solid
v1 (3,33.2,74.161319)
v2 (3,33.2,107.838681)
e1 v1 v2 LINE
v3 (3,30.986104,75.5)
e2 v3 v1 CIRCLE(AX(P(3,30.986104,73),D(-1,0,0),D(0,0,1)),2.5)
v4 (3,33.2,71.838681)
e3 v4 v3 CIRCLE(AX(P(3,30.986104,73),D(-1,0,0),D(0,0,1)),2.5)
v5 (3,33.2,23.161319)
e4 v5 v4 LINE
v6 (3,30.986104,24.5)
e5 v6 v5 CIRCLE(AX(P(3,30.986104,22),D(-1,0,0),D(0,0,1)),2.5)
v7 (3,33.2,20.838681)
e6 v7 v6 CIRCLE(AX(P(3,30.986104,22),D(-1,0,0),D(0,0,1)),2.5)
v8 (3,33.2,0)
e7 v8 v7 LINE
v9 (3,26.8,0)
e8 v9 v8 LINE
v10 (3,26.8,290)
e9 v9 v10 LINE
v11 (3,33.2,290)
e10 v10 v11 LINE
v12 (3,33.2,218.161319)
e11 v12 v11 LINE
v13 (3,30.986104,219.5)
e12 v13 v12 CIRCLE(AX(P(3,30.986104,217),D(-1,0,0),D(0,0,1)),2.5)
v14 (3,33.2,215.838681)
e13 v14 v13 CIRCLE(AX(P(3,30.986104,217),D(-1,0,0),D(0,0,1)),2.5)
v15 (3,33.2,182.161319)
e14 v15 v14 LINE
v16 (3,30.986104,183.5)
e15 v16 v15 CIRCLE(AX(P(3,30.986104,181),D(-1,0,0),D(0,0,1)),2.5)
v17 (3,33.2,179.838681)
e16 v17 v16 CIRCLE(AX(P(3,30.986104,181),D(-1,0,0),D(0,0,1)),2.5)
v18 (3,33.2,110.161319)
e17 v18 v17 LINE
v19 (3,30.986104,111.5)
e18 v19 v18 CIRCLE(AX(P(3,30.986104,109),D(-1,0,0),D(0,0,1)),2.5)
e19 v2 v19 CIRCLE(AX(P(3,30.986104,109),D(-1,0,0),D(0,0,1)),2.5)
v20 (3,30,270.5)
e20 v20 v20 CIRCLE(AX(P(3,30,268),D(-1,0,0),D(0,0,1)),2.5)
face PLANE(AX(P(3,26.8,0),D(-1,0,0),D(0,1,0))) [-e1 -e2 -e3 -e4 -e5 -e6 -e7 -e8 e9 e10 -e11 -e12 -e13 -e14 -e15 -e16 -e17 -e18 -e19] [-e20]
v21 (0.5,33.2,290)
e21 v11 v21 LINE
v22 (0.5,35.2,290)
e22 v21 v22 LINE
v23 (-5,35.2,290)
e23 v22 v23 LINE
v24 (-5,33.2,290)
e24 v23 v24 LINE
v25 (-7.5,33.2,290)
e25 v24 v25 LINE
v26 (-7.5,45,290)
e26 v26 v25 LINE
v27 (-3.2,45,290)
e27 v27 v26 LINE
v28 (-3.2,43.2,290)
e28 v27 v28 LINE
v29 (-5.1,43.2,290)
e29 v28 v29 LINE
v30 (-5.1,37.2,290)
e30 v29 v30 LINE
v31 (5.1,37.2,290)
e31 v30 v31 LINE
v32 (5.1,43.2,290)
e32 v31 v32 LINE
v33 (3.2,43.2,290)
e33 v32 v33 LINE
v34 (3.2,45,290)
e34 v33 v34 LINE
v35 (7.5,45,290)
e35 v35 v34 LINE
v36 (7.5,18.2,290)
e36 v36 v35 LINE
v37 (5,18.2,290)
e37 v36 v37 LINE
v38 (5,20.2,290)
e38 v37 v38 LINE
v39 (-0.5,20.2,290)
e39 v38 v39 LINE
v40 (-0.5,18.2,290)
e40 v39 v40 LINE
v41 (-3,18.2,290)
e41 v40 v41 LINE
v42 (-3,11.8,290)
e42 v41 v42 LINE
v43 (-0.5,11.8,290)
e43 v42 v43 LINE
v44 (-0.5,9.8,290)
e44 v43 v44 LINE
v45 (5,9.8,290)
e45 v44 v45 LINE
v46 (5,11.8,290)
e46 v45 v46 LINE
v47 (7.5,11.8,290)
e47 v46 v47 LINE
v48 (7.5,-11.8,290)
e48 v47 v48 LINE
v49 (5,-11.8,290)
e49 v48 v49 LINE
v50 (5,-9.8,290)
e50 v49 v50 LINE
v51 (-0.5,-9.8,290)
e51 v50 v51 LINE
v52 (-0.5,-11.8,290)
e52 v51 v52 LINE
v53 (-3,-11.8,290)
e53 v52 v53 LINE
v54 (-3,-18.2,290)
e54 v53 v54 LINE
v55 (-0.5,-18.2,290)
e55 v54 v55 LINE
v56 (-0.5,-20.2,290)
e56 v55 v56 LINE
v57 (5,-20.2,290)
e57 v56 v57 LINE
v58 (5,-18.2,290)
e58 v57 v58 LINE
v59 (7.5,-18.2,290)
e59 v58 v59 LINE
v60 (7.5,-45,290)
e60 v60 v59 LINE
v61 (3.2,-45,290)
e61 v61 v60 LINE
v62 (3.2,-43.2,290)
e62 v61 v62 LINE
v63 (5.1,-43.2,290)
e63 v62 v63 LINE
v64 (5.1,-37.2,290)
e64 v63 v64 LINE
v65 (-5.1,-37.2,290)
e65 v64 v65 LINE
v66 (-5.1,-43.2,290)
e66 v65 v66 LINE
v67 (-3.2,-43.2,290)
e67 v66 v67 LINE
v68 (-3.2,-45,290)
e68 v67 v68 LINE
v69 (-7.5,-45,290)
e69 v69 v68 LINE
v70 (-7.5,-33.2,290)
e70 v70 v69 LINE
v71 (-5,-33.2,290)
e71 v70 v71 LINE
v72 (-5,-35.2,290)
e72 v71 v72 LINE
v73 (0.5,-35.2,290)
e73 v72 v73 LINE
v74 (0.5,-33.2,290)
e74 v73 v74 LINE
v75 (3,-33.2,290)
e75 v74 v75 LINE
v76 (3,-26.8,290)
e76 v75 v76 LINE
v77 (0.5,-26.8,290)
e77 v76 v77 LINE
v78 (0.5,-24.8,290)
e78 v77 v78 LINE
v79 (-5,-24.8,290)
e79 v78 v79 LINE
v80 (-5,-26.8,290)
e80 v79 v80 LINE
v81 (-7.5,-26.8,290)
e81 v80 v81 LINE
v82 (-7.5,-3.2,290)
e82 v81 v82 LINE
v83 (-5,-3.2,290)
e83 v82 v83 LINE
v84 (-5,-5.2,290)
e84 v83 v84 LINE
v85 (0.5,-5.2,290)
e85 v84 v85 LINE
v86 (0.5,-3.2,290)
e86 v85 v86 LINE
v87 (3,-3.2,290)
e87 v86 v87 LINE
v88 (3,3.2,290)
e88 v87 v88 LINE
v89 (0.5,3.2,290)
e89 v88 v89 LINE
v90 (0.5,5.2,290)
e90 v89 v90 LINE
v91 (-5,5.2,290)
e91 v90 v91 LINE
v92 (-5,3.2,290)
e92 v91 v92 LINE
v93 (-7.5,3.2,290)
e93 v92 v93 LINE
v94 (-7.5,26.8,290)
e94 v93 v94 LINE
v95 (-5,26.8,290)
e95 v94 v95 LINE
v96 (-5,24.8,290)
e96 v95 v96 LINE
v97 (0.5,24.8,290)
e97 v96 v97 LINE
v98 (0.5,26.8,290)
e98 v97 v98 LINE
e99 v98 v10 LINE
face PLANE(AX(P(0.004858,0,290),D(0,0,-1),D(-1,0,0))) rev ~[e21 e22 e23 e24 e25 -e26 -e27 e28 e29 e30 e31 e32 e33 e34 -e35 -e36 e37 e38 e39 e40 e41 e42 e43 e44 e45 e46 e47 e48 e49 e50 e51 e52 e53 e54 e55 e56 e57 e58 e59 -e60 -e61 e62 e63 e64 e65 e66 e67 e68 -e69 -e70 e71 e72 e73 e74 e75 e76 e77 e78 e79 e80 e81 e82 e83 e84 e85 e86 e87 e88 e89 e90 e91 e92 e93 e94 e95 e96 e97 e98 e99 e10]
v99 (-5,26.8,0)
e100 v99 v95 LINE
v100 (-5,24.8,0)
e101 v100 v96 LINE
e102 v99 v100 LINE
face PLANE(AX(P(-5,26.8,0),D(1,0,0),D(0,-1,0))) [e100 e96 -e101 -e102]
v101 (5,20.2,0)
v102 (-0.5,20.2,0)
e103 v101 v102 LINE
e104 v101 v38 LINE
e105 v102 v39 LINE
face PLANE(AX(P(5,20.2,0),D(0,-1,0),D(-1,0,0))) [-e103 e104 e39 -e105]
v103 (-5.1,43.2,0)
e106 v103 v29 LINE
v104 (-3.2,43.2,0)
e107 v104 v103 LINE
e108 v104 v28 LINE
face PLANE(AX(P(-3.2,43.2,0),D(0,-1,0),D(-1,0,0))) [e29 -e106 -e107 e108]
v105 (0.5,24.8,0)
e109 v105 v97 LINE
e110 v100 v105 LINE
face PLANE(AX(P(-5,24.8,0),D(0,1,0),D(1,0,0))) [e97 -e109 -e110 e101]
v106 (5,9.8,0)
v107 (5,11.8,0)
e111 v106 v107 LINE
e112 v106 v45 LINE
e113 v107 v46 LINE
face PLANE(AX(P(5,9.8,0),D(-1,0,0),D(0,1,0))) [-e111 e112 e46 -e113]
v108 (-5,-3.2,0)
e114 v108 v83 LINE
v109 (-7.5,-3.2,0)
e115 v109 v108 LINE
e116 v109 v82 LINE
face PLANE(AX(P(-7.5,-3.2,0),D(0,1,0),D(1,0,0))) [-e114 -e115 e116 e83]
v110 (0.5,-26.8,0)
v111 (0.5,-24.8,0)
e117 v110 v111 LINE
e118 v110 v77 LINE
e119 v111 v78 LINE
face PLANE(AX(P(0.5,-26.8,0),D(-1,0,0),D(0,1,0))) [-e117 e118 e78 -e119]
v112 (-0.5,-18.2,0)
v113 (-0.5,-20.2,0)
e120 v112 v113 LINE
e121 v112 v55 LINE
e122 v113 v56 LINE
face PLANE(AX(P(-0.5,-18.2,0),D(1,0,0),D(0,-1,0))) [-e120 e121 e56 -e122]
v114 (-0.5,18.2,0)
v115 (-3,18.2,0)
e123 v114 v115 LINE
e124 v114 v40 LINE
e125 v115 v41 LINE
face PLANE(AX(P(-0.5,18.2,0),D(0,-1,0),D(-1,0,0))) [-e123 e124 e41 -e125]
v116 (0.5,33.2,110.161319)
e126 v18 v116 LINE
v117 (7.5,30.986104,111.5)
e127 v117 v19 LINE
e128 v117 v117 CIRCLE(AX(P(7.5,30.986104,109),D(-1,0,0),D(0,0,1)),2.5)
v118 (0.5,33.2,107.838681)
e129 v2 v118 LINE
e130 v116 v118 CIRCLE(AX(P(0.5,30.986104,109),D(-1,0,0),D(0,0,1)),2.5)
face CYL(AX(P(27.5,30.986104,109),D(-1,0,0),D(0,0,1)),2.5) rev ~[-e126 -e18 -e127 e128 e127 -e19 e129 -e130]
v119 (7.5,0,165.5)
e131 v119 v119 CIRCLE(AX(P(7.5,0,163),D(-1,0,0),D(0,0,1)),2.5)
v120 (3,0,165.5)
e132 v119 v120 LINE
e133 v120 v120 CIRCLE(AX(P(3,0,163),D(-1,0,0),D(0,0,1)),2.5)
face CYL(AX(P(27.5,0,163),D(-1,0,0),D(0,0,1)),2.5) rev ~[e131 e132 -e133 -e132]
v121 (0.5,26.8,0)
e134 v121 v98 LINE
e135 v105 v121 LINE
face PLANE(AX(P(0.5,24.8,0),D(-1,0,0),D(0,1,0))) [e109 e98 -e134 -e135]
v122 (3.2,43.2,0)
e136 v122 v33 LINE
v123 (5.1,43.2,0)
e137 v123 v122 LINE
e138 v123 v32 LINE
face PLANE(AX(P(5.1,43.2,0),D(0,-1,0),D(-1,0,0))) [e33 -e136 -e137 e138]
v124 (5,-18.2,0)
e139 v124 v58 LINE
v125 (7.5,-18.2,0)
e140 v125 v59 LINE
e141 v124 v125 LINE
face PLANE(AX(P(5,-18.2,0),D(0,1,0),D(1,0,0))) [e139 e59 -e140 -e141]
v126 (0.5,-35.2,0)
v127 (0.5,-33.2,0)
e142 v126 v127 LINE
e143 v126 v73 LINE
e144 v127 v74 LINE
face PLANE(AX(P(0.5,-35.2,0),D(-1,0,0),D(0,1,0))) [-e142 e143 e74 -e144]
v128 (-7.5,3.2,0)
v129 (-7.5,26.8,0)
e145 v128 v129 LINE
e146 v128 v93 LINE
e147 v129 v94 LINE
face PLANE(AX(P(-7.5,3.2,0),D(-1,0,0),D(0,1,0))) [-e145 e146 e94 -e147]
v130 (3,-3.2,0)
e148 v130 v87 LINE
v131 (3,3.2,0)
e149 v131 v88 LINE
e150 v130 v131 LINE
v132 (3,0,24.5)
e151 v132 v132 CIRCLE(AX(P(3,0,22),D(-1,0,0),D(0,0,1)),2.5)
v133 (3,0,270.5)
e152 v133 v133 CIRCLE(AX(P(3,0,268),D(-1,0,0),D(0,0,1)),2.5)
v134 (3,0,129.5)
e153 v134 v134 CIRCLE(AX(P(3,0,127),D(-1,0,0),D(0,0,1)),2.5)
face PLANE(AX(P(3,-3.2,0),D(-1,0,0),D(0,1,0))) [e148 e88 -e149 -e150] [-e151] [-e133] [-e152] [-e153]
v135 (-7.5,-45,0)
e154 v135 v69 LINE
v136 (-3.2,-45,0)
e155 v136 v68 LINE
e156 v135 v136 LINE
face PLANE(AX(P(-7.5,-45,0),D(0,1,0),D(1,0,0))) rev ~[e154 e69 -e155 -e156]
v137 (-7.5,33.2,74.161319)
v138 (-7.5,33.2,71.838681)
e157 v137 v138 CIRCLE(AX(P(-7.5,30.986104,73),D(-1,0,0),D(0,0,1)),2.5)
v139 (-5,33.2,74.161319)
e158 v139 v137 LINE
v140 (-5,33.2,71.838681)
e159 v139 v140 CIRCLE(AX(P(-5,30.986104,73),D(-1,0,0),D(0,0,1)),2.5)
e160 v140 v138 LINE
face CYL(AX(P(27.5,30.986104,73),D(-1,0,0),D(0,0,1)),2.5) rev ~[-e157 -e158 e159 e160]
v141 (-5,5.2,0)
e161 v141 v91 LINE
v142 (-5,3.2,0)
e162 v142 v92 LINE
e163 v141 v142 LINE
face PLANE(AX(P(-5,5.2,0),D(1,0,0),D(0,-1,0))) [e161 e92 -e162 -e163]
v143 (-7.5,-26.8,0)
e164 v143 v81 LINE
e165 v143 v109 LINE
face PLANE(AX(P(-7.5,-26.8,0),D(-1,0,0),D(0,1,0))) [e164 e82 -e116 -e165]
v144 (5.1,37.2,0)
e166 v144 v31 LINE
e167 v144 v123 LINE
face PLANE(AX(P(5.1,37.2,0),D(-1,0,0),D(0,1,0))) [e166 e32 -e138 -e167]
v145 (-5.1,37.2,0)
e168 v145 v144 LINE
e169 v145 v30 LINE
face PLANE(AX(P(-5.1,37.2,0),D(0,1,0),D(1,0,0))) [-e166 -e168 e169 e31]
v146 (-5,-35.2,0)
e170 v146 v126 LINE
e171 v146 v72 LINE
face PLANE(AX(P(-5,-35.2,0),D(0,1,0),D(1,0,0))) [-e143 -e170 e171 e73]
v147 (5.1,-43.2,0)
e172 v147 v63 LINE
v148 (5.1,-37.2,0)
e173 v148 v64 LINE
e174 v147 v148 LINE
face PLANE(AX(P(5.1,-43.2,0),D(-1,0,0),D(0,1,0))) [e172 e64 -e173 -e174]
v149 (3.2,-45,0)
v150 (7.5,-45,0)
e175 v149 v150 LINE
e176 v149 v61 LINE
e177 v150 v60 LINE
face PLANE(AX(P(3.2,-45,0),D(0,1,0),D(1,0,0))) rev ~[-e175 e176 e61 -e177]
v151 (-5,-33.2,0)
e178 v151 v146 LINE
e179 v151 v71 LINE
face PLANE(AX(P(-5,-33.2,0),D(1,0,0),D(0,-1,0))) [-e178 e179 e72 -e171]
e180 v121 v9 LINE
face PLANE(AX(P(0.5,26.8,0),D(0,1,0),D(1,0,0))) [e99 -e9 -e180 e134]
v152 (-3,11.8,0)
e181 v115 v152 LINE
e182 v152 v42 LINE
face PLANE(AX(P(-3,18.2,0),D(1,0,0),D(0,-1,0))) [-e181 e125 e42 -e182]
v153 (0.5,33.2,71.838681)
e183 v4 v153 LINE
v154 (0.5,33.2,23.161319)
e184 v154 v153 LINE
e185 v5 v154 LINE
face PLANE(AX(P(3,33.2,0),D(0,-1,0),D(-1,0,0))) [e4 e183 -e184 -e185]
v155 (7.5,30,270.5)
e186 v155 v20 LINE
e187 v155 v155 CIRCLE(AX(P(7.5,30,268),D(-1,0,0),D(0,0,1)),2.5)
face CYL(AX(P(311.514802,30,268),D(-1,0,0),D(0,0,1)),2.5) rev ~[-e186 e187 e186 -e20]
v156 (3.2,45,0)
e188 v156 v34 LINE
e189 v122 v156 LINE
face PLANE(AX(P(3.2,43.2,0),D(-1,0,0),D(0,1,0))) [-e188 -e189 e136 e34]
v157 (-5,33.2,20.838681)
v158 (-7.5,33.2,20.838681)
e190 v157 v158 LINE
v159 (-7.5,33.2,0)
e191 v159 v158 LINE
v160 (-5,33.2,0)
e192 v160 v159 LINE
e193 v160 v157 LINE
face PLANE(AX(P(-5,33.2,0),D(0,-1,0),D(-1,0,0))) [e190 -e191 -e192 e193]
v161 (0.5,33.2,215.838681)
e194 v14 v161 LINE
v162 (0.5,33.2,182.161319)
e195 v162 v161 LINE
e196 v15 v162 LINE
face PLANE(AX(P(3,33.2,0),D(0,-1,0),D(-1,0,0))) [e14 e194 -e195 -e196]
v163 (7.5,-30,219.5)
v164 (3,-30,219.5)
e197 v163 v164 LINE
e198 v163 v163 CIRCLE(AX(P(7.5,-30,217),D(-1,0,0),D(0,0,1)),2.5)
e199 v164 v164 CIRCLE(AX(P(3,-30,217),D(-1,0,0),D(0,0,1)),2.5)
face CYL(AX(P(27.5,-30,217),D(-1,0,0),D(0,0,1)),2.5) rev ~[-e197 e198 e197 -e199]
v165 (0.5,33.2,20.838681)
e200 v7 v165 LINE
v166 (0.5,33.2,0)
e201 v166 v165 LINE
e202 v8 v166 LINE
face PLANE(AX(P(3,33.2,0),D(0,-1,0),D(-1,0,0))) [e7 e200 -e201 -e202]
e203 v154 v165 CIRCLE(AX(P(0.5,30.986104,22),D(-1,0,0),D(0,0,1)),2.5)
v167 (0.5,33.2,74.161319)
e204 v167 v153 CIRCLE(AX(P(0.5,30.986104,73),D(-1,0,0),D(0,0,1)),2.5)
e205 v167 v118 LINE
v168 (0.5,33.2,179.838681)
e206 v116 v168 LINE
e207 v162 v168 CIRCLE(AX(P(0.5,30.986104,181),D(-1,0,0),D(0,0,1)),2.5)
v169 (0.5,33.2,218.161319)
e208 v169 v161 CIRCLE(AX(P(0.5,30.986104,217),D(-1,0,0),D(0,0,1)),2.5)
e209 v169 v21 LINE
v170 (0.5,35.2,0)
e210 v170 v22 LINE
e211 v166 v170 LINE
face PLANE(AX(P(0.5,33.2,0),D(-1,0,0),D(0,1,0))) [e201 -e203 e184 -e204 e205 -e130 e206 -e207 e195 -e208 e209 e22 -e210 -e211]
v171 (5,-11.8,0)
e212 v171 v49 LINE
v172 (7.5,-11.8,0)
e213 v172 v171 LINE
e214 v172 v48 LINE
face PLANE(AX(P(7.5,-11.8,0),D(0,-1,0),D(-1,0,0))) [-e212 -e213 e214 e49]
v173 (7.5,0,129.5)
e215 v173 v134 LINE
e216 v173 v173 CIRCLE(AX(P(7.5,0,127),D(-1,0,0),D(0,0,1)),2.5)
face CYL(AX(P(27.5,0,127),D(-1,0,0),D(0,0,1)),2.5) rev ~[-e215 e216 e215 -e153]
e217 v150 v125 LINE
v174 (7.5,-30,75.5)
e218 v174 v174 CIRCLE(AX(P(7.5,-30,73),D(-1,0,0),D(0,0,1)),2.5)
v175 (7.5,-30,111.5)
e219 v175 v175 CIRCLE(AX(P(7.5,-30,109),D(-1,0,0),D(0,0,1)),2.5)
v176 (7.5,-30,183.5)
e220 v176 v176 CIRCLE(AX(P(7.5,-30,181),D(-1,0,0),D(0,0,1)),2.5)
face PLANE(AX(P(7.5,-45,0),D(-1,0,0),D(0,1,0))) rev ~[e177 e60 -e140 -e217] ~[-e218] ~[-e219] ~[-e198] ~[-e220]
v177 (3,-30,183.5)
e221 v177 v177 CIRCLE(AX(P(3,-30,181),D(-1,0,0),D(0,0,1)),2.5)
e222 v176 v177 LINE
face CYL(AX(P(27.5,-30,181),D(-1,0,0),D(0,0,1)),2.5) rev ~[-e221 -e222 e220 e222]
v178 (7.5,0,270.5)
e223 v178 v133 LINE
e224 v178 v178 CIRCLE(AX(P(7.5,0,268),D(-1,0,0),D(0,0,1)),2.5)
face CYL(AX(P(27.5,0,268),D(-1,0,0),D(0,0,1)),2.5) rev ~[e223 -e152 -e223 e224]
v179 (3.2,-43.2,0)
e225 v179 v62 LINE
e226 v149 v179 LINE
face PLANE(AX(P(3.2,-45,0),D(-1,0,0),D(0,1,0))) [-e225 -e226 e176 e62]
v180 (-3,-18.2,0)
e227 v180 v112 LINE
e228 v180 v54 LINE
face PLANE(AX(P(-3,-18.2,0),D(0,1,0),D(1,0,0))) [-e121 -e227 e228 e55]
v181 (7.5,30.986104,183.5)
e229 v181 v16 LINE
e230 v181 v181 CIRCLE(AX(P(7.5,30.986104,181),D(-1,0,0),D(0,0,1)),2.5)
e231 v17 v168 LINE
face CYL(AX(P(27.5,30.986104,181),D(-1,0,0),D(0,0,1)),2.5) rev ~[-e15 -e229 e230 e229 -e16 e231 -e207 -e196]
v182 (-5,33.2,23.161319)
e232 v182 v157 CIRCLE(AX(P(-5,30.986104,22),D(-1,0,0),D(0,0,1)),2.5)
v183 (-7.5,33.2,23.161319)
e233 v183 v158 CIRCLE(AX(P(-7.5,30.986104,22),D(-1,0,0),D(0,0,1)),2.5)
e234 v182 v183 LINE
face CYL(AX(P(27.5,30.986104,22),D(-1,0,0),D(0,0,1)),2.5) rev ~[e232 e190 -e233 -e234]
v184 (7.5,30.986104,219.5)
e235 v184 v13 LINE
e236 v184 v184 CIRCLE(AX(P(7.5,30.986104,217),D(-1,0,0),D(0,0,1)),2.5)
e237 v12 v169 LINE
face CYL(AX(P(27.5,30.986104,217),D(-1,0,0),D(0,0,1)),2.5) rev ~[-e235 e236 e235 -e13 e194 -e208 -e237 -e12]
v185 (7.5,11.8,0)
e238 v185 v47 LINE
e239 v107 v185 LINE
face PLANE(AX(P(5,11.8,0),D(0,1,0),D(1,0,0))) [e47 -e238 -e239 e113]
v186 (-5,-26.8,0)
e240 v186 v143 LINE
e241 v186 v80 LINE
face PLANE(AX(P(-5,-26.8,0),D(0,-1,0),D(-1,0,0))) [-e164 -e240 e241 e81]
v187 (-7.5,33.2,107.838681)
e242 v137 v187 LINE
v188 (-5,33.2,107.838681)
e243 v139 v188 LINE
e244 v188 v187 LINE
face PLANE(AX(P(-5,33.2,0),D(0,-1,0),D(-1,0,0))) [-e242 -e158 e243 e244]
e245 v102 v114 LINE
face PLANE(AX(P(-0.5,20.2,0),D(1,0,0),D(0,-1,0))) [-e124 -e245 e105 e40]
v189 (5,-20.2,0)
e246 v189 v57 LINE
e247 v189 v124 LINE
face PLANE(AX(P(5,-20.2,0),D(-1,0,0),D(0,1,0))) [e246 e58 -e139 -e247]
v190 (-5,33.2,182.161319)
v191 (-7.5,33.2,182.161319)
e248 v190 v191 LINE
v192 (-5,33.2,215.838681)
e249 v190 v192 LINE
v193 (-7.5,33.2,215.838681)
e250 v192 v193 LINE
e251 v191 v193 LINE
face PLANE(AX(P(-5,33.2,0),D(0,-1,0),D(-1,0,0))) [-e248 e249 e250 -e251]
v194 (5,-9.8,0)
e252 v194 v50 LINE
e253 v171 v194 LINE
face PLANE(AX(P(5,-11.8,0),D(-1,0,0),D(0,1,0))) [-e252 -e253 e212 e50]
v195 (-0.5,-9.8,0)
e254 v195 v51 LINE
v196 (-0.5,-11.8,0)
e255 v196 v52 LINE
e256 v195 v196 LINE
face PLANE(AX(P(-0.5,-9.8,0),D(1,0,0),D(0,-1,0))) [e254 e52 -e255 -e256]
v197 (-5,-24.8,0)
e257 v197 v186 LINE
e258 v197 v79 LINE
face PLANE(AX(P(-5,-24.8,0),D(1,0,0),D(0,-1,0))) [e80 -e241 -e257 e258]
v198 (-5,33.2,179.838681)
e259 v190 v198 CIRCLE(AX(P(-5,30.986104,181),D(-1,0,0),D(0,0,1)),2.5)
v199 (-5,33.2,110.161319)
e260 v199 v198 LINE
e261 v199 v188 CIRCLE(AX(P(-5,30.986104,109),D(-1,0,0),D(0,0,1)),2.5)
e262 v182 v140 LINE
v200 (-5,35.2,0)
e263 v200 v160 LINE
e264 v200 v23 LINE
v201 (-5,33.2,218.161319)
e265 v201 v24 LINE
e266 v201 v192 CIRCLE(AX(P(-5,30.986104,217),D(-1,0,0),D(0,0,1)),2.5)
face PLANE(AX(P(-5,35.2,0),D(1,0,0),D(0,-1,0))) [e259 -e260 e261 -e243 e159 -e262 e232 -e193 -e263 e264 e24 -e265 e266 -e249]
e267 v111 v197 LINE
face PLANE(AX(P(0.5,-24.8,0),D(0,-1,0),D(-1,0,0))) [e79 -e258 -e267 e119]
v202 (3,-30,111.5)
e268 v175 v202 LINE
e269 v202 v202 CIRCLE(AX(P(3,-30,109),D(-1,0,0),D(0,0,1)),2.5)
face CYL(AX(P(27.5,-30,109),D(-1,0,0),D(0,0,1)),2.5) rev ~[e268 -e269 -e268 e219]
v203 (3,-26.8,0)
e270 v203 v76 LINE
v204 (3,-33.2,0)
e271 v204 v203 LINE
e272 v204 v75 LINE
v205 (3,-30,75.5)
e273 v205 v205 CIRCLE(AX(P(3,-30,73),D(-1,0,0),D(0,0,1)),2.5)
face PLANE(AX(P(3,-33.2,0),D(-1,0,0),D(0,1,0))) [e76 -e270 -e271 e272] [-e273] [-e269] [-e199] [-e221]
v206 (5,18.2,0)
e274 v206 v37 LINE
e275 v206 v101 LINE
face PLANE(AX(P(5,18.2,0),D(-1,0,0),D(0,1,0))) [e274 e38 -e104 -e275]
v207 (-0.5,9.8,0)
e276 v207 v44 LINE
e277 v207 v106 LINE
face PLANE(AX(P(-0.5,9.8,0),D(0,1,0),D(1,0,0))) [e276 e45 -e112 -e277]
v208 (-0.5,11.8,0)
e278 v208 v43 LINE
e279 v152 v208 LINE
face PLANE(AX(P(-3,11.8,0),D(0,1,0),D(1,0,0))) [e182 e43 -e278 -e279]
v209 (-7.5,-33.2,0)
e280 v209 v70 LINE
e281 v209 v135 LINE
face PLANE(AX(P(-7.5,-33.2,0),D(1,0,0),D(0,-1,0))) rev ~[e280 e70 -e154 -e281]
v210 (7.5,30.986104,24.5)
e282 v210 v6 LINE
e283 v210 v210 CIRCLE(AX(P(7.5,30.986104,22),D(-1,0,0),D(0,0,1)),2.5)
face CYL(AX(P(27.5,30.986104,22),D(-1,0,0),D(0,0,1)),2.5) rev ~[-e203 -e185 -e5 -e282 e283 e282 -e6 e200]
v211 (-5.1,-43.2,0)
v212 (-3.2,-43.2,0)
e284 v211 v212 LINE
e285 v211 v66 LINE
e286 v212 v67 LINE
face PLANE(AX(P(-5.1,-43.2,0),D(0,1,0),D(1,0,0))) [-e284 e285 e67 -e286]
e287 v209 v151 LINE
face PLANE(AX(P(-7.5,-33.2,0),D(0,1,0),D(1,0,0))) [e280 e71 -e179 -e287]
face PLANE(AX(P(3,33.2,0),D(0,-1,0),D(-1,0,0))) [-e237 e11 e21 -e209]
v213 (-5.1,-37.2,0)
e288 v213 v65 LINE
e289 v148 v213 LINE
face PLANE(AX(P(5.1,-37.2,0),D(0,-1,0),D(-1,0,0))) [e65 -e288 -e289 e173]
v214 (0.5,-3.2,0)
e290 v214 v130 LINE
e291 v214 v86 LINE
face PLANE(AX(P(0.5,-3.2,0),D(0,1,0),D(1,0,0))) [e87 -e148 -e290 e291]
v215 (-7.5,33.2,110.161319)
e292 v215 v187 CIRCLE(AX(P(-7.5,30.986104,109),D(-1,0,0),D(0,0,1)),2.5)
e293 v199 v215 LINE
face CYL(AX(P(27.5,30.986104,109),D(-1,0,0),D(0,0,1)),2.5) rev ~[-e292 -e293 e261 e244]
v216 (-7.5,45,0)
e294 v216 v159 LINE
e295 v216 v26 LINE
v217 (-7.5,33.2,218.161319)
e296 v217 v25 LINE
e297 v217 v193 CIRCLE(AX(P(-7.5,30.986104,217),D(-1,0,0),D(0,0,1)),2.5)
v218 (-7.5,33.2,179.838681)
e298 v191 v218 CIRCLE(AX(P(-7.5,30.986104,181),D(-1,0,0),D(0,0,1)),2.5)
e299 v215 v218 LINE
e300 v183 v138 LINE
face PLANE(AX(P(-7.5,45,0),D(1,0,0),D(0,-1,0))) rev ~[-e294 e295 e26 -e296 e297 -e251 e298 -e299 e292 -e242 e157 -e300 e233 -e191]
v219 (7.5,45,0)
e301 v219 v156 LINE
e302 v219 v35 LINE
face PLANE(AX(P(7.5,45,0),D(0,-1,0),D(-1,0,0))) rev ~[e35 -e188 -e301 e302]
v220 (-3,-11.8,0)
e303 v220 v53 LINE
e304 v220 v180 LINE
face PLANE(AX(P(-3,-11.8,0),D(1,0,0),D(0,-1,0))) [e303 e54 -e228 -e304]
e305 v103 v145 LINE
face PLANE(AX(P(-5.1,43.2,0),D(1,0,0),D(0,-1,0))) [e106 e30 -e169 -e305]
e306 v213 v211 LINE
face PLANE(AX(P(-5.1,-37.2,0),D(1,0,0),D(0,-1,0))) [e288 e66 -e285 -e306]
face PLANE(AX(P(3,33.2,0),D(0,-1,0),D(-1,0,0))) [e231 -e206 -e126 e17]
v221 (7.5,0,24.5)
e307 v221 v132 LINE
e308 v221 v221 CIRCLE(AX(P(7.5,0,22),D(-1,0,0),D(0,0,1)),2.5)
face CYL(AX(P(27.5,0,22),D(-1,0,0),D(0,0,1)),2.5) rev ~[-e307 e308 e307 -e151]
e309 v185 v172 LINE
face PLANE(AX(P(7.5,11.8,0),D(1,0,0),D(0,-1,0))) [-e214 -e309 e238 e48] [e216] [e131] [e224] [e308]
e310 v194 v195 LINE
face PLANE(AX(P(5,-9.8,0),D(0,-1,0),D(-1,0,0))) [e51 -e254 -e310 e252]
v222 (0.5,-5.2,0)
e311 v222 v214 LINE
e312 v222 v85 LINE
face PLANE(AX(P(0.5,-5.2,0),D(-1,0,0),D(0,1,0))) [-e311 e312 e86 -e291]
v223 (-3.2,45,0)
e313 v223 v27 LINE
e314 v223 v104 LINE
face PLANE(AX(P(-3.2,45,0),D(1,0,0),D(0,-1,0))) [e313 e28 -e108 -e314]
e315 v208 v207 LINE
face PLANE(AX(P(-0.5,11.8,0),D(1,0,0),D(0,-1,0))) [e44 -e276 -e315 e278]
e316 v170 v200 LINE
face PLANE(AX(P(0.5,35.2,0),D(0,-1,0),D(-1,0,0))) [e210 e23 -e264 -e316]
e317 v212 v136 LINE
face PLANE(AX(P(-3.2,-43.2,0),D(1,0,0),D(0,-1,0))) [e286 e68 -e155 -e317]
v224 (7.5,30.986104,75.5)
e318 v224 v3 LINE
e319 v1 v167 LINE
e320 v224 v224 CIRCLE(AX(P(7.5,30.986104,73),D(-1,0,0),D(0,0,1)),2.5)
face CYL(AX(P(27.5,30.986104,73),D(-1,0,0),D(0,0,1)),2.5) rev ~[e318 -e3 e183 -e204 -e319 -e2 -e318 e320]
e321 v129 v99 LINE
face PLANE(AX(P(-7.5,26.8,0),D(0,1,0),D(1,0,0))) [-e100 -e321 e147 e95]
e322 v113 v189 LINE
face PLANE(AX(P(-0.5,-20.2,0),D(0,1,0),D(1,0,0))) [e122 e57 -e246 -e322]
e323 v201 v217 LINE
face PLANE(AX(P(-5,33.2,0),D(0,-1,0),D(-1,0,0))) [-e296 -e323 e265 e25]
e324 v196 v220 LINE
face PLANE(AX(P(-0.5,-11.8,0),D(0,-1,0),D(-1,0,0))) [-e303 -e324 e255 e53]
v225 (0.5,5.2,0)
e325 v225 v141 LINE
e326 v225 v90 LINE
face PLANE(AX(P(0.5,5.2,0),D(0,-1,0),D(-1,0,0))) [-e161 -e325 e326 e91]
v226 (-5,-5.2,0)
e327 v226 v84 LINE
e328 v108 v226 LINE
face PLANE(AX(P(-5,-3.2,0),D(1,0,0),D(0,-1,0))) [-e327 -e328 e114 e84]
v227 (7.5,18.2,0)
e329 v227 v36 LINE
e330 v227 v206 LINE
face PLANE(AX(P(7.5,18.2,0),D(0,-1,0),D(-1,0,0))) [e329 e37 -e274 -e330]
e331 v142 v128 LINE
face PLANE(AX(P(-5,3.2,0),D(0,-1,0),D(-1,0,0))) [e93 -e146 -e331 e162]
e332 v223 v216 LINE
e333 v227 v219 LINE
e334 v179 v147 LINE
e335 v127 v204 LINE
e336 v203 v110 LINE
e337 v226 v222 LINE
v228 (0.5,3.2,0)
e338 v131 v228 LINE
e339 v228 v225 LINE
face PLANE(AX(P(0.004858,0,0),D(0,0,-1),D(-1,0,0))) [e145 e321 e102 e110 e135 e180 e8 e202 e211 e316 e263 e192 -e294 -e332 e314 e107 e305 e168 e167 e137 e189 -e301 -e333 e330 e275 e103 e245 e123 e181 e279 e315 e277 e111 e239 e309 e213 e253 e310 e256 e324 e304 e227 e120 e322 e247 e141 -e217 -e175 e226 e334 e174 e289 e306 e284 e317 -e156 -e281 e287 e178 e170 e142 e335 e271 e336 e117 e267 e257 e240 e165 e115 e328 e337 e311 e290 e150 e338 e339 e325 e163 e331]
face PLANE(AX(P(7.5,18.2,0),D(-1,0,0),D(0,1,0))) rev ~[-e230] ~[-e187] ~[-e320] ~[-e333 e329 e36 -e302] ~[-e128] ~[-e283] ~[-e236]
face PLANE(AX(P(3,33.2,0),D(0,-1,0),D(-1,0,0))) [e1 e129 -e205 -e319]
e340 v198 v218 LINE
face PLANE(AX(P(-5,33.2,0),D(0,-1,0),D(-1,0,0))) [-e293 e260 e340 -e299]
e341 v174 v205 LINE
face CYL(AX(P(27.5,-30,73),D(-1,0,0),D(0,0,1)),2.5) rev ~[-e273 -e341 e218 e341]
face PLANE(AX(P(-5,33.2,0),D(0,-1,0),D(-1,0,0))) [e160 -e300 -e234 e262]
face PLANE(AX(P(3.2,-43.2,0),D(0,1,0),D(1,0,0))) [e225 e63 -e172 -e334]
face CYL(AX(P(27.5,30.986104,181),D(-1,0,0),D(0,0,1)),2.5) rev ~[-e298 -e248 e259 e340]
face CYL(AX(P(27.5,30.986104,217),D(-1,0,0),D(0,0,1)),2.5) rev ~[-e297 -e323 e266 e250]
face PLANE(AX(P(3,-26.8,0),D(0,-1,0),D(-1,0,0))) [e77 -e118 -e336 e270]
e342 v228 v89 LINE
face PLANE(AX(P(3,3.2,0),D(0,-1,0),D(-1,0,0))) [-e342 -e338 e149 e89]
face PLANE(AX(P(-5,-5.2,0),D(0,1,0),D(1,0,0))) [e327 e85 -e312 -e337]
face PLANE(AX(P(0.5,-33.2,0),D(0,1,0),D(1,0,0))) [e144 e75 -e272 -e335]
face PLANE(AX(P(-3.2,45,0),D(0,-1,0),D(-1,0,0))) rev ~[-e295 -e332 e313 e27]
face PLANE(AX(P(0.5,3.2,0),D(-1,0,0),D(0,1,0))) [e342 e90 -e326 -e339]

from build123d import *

# Parameters (mm, degrees)
EXTRUDE_1_DEPTH           = 290
HOLE_WIZARD_5_0_5_1_D     = 5
HOLE_WIZARD_5_0_5_2_D     = 5
HOLE_WIZARD_5_0_5_2_DEPTH = 20
HOLE_WIZARD_5_0_5_2_TIP   = 1.502151548


with BuildPart() as part:
    # Sketch1 → 凸台-拉伸1 (new body)
    with BuildSketch(Plane.XY):
        Polygon((-6.5, 45), (-3.2, 45), (-3.2, 43.2), (-5.1, 43.2), (-5.1, 37.2), (5.1, 37.2), (5.1, 43.2), (3.2, 43.2), (3.2, 45), (6.5, 45), (7.5, 45), (7.5, 44), (7.5, 18.2), (5, 18.2), (5, 20.2), (-0.5, 20.2), (-0.5, 18.2), (-3, 18.2), (-3, 11.8), (-0.5, 11.8), (-0.5, 9.8), (5, 9.8), (5, 11.8), (7.5, 11.8), (7.5, -11.8), (5, -11.8), (5, -9.8), (-0.5, -9.8), (-0.5, -11.8), (-3, -11.8), (-3, -18.2), (-0.5, -18.2), (-0.5, -20.2), (5, -20.2), (5, -18.2), (7.5, -18.2), (7.5, -44), (7.5, -45), (6.5, -45), (3.2, -45), (3.2, -43.2), (5.1, -43.2), (5.1, -37.2), (-5.1, -37.2), (-5.1, -43.2), (-3.2, -43.2), (-3.2, -45), (-6.496721962, -45), (-7.5, -45), (-7.5, -44), (-7.5, -33.2), (-5, -33.2), (-5, -35.2), (0.5, -35.2), (0.5, -33.2), (3, -33.2), (3, -26.8), (0.5, -26.8), (0.5, -24.8), (-5, -24.8), (-5, -26.8), (-7.5, -26.8), (-7.5, -3.2), (-5, -3.2), (-5, -5.2), (0.5, -5.2), (0.5, -3.2), (3, -3.2), (3, 3.2), (0.5, 3.2), (0.5, 5.2), (-5, 5.2), (-5, 3.2), (-7.5, 3.2), (-7.5, 26.8), (-5, 26.8), (-5, 24.8), (0.5, 24.8), (0.5, 26.8), (3, 26.8), (3, 33.2), (0.5, 33.2), (0.5, 35.2), (-5, 35.2), (-5, 33.2), (-7.5, 33.2), (-7.5, 44), (-7.5, 45), align=None)
    extrude(amount=EXTRUDE_1_DEPTH)

    # Ø5.0 (5) 直径孔1 (through all)
    with Locations(Plane(origin=(7.5, 0, 0), x_dir=(0, 0, -1), z_dir=(1, 0, 0))):
        with Locations((-268, 30)):
            Hole(HOLE_WIZARD_5_0_5_1_D / 2)

    # Ø5.0 (5) 直径孔2
    with Locations(Plane(origin=(7.5, 0, 0), x_dir=(0, 0, -1), z_dir=(1, 0, 0))):
        with Locations((-217, 30.986103622), (-181, 30.986103622), (-109, 30.986103622), (-73, 30.986103622), (-22, 30.986103622), (-268, 0), (-217, -30), (-181, -30), (-163, 0), (-127, 0), (-109, -30), (-73, -30), (-22, 0)):
            Hole(HOLE_WIZARD_5_0_5_2_D / 2, depth=HOLE_WIZARD_5_0_5_2_DEPTH)
            with Locations((0, 0, -(HOLE_WIZARD_5_0_5_2_DEPTH + HOLE_WIZARD_5_0_5_2_TIP / 2))):  # 118° drill point
                Cone(0, HOLE_WIZARD_5_0_5_2_D / 2, HOLE_WIZARD_5_0_5_2_TIP, mode=Mode.SUBTRACT)


solid = part.part
